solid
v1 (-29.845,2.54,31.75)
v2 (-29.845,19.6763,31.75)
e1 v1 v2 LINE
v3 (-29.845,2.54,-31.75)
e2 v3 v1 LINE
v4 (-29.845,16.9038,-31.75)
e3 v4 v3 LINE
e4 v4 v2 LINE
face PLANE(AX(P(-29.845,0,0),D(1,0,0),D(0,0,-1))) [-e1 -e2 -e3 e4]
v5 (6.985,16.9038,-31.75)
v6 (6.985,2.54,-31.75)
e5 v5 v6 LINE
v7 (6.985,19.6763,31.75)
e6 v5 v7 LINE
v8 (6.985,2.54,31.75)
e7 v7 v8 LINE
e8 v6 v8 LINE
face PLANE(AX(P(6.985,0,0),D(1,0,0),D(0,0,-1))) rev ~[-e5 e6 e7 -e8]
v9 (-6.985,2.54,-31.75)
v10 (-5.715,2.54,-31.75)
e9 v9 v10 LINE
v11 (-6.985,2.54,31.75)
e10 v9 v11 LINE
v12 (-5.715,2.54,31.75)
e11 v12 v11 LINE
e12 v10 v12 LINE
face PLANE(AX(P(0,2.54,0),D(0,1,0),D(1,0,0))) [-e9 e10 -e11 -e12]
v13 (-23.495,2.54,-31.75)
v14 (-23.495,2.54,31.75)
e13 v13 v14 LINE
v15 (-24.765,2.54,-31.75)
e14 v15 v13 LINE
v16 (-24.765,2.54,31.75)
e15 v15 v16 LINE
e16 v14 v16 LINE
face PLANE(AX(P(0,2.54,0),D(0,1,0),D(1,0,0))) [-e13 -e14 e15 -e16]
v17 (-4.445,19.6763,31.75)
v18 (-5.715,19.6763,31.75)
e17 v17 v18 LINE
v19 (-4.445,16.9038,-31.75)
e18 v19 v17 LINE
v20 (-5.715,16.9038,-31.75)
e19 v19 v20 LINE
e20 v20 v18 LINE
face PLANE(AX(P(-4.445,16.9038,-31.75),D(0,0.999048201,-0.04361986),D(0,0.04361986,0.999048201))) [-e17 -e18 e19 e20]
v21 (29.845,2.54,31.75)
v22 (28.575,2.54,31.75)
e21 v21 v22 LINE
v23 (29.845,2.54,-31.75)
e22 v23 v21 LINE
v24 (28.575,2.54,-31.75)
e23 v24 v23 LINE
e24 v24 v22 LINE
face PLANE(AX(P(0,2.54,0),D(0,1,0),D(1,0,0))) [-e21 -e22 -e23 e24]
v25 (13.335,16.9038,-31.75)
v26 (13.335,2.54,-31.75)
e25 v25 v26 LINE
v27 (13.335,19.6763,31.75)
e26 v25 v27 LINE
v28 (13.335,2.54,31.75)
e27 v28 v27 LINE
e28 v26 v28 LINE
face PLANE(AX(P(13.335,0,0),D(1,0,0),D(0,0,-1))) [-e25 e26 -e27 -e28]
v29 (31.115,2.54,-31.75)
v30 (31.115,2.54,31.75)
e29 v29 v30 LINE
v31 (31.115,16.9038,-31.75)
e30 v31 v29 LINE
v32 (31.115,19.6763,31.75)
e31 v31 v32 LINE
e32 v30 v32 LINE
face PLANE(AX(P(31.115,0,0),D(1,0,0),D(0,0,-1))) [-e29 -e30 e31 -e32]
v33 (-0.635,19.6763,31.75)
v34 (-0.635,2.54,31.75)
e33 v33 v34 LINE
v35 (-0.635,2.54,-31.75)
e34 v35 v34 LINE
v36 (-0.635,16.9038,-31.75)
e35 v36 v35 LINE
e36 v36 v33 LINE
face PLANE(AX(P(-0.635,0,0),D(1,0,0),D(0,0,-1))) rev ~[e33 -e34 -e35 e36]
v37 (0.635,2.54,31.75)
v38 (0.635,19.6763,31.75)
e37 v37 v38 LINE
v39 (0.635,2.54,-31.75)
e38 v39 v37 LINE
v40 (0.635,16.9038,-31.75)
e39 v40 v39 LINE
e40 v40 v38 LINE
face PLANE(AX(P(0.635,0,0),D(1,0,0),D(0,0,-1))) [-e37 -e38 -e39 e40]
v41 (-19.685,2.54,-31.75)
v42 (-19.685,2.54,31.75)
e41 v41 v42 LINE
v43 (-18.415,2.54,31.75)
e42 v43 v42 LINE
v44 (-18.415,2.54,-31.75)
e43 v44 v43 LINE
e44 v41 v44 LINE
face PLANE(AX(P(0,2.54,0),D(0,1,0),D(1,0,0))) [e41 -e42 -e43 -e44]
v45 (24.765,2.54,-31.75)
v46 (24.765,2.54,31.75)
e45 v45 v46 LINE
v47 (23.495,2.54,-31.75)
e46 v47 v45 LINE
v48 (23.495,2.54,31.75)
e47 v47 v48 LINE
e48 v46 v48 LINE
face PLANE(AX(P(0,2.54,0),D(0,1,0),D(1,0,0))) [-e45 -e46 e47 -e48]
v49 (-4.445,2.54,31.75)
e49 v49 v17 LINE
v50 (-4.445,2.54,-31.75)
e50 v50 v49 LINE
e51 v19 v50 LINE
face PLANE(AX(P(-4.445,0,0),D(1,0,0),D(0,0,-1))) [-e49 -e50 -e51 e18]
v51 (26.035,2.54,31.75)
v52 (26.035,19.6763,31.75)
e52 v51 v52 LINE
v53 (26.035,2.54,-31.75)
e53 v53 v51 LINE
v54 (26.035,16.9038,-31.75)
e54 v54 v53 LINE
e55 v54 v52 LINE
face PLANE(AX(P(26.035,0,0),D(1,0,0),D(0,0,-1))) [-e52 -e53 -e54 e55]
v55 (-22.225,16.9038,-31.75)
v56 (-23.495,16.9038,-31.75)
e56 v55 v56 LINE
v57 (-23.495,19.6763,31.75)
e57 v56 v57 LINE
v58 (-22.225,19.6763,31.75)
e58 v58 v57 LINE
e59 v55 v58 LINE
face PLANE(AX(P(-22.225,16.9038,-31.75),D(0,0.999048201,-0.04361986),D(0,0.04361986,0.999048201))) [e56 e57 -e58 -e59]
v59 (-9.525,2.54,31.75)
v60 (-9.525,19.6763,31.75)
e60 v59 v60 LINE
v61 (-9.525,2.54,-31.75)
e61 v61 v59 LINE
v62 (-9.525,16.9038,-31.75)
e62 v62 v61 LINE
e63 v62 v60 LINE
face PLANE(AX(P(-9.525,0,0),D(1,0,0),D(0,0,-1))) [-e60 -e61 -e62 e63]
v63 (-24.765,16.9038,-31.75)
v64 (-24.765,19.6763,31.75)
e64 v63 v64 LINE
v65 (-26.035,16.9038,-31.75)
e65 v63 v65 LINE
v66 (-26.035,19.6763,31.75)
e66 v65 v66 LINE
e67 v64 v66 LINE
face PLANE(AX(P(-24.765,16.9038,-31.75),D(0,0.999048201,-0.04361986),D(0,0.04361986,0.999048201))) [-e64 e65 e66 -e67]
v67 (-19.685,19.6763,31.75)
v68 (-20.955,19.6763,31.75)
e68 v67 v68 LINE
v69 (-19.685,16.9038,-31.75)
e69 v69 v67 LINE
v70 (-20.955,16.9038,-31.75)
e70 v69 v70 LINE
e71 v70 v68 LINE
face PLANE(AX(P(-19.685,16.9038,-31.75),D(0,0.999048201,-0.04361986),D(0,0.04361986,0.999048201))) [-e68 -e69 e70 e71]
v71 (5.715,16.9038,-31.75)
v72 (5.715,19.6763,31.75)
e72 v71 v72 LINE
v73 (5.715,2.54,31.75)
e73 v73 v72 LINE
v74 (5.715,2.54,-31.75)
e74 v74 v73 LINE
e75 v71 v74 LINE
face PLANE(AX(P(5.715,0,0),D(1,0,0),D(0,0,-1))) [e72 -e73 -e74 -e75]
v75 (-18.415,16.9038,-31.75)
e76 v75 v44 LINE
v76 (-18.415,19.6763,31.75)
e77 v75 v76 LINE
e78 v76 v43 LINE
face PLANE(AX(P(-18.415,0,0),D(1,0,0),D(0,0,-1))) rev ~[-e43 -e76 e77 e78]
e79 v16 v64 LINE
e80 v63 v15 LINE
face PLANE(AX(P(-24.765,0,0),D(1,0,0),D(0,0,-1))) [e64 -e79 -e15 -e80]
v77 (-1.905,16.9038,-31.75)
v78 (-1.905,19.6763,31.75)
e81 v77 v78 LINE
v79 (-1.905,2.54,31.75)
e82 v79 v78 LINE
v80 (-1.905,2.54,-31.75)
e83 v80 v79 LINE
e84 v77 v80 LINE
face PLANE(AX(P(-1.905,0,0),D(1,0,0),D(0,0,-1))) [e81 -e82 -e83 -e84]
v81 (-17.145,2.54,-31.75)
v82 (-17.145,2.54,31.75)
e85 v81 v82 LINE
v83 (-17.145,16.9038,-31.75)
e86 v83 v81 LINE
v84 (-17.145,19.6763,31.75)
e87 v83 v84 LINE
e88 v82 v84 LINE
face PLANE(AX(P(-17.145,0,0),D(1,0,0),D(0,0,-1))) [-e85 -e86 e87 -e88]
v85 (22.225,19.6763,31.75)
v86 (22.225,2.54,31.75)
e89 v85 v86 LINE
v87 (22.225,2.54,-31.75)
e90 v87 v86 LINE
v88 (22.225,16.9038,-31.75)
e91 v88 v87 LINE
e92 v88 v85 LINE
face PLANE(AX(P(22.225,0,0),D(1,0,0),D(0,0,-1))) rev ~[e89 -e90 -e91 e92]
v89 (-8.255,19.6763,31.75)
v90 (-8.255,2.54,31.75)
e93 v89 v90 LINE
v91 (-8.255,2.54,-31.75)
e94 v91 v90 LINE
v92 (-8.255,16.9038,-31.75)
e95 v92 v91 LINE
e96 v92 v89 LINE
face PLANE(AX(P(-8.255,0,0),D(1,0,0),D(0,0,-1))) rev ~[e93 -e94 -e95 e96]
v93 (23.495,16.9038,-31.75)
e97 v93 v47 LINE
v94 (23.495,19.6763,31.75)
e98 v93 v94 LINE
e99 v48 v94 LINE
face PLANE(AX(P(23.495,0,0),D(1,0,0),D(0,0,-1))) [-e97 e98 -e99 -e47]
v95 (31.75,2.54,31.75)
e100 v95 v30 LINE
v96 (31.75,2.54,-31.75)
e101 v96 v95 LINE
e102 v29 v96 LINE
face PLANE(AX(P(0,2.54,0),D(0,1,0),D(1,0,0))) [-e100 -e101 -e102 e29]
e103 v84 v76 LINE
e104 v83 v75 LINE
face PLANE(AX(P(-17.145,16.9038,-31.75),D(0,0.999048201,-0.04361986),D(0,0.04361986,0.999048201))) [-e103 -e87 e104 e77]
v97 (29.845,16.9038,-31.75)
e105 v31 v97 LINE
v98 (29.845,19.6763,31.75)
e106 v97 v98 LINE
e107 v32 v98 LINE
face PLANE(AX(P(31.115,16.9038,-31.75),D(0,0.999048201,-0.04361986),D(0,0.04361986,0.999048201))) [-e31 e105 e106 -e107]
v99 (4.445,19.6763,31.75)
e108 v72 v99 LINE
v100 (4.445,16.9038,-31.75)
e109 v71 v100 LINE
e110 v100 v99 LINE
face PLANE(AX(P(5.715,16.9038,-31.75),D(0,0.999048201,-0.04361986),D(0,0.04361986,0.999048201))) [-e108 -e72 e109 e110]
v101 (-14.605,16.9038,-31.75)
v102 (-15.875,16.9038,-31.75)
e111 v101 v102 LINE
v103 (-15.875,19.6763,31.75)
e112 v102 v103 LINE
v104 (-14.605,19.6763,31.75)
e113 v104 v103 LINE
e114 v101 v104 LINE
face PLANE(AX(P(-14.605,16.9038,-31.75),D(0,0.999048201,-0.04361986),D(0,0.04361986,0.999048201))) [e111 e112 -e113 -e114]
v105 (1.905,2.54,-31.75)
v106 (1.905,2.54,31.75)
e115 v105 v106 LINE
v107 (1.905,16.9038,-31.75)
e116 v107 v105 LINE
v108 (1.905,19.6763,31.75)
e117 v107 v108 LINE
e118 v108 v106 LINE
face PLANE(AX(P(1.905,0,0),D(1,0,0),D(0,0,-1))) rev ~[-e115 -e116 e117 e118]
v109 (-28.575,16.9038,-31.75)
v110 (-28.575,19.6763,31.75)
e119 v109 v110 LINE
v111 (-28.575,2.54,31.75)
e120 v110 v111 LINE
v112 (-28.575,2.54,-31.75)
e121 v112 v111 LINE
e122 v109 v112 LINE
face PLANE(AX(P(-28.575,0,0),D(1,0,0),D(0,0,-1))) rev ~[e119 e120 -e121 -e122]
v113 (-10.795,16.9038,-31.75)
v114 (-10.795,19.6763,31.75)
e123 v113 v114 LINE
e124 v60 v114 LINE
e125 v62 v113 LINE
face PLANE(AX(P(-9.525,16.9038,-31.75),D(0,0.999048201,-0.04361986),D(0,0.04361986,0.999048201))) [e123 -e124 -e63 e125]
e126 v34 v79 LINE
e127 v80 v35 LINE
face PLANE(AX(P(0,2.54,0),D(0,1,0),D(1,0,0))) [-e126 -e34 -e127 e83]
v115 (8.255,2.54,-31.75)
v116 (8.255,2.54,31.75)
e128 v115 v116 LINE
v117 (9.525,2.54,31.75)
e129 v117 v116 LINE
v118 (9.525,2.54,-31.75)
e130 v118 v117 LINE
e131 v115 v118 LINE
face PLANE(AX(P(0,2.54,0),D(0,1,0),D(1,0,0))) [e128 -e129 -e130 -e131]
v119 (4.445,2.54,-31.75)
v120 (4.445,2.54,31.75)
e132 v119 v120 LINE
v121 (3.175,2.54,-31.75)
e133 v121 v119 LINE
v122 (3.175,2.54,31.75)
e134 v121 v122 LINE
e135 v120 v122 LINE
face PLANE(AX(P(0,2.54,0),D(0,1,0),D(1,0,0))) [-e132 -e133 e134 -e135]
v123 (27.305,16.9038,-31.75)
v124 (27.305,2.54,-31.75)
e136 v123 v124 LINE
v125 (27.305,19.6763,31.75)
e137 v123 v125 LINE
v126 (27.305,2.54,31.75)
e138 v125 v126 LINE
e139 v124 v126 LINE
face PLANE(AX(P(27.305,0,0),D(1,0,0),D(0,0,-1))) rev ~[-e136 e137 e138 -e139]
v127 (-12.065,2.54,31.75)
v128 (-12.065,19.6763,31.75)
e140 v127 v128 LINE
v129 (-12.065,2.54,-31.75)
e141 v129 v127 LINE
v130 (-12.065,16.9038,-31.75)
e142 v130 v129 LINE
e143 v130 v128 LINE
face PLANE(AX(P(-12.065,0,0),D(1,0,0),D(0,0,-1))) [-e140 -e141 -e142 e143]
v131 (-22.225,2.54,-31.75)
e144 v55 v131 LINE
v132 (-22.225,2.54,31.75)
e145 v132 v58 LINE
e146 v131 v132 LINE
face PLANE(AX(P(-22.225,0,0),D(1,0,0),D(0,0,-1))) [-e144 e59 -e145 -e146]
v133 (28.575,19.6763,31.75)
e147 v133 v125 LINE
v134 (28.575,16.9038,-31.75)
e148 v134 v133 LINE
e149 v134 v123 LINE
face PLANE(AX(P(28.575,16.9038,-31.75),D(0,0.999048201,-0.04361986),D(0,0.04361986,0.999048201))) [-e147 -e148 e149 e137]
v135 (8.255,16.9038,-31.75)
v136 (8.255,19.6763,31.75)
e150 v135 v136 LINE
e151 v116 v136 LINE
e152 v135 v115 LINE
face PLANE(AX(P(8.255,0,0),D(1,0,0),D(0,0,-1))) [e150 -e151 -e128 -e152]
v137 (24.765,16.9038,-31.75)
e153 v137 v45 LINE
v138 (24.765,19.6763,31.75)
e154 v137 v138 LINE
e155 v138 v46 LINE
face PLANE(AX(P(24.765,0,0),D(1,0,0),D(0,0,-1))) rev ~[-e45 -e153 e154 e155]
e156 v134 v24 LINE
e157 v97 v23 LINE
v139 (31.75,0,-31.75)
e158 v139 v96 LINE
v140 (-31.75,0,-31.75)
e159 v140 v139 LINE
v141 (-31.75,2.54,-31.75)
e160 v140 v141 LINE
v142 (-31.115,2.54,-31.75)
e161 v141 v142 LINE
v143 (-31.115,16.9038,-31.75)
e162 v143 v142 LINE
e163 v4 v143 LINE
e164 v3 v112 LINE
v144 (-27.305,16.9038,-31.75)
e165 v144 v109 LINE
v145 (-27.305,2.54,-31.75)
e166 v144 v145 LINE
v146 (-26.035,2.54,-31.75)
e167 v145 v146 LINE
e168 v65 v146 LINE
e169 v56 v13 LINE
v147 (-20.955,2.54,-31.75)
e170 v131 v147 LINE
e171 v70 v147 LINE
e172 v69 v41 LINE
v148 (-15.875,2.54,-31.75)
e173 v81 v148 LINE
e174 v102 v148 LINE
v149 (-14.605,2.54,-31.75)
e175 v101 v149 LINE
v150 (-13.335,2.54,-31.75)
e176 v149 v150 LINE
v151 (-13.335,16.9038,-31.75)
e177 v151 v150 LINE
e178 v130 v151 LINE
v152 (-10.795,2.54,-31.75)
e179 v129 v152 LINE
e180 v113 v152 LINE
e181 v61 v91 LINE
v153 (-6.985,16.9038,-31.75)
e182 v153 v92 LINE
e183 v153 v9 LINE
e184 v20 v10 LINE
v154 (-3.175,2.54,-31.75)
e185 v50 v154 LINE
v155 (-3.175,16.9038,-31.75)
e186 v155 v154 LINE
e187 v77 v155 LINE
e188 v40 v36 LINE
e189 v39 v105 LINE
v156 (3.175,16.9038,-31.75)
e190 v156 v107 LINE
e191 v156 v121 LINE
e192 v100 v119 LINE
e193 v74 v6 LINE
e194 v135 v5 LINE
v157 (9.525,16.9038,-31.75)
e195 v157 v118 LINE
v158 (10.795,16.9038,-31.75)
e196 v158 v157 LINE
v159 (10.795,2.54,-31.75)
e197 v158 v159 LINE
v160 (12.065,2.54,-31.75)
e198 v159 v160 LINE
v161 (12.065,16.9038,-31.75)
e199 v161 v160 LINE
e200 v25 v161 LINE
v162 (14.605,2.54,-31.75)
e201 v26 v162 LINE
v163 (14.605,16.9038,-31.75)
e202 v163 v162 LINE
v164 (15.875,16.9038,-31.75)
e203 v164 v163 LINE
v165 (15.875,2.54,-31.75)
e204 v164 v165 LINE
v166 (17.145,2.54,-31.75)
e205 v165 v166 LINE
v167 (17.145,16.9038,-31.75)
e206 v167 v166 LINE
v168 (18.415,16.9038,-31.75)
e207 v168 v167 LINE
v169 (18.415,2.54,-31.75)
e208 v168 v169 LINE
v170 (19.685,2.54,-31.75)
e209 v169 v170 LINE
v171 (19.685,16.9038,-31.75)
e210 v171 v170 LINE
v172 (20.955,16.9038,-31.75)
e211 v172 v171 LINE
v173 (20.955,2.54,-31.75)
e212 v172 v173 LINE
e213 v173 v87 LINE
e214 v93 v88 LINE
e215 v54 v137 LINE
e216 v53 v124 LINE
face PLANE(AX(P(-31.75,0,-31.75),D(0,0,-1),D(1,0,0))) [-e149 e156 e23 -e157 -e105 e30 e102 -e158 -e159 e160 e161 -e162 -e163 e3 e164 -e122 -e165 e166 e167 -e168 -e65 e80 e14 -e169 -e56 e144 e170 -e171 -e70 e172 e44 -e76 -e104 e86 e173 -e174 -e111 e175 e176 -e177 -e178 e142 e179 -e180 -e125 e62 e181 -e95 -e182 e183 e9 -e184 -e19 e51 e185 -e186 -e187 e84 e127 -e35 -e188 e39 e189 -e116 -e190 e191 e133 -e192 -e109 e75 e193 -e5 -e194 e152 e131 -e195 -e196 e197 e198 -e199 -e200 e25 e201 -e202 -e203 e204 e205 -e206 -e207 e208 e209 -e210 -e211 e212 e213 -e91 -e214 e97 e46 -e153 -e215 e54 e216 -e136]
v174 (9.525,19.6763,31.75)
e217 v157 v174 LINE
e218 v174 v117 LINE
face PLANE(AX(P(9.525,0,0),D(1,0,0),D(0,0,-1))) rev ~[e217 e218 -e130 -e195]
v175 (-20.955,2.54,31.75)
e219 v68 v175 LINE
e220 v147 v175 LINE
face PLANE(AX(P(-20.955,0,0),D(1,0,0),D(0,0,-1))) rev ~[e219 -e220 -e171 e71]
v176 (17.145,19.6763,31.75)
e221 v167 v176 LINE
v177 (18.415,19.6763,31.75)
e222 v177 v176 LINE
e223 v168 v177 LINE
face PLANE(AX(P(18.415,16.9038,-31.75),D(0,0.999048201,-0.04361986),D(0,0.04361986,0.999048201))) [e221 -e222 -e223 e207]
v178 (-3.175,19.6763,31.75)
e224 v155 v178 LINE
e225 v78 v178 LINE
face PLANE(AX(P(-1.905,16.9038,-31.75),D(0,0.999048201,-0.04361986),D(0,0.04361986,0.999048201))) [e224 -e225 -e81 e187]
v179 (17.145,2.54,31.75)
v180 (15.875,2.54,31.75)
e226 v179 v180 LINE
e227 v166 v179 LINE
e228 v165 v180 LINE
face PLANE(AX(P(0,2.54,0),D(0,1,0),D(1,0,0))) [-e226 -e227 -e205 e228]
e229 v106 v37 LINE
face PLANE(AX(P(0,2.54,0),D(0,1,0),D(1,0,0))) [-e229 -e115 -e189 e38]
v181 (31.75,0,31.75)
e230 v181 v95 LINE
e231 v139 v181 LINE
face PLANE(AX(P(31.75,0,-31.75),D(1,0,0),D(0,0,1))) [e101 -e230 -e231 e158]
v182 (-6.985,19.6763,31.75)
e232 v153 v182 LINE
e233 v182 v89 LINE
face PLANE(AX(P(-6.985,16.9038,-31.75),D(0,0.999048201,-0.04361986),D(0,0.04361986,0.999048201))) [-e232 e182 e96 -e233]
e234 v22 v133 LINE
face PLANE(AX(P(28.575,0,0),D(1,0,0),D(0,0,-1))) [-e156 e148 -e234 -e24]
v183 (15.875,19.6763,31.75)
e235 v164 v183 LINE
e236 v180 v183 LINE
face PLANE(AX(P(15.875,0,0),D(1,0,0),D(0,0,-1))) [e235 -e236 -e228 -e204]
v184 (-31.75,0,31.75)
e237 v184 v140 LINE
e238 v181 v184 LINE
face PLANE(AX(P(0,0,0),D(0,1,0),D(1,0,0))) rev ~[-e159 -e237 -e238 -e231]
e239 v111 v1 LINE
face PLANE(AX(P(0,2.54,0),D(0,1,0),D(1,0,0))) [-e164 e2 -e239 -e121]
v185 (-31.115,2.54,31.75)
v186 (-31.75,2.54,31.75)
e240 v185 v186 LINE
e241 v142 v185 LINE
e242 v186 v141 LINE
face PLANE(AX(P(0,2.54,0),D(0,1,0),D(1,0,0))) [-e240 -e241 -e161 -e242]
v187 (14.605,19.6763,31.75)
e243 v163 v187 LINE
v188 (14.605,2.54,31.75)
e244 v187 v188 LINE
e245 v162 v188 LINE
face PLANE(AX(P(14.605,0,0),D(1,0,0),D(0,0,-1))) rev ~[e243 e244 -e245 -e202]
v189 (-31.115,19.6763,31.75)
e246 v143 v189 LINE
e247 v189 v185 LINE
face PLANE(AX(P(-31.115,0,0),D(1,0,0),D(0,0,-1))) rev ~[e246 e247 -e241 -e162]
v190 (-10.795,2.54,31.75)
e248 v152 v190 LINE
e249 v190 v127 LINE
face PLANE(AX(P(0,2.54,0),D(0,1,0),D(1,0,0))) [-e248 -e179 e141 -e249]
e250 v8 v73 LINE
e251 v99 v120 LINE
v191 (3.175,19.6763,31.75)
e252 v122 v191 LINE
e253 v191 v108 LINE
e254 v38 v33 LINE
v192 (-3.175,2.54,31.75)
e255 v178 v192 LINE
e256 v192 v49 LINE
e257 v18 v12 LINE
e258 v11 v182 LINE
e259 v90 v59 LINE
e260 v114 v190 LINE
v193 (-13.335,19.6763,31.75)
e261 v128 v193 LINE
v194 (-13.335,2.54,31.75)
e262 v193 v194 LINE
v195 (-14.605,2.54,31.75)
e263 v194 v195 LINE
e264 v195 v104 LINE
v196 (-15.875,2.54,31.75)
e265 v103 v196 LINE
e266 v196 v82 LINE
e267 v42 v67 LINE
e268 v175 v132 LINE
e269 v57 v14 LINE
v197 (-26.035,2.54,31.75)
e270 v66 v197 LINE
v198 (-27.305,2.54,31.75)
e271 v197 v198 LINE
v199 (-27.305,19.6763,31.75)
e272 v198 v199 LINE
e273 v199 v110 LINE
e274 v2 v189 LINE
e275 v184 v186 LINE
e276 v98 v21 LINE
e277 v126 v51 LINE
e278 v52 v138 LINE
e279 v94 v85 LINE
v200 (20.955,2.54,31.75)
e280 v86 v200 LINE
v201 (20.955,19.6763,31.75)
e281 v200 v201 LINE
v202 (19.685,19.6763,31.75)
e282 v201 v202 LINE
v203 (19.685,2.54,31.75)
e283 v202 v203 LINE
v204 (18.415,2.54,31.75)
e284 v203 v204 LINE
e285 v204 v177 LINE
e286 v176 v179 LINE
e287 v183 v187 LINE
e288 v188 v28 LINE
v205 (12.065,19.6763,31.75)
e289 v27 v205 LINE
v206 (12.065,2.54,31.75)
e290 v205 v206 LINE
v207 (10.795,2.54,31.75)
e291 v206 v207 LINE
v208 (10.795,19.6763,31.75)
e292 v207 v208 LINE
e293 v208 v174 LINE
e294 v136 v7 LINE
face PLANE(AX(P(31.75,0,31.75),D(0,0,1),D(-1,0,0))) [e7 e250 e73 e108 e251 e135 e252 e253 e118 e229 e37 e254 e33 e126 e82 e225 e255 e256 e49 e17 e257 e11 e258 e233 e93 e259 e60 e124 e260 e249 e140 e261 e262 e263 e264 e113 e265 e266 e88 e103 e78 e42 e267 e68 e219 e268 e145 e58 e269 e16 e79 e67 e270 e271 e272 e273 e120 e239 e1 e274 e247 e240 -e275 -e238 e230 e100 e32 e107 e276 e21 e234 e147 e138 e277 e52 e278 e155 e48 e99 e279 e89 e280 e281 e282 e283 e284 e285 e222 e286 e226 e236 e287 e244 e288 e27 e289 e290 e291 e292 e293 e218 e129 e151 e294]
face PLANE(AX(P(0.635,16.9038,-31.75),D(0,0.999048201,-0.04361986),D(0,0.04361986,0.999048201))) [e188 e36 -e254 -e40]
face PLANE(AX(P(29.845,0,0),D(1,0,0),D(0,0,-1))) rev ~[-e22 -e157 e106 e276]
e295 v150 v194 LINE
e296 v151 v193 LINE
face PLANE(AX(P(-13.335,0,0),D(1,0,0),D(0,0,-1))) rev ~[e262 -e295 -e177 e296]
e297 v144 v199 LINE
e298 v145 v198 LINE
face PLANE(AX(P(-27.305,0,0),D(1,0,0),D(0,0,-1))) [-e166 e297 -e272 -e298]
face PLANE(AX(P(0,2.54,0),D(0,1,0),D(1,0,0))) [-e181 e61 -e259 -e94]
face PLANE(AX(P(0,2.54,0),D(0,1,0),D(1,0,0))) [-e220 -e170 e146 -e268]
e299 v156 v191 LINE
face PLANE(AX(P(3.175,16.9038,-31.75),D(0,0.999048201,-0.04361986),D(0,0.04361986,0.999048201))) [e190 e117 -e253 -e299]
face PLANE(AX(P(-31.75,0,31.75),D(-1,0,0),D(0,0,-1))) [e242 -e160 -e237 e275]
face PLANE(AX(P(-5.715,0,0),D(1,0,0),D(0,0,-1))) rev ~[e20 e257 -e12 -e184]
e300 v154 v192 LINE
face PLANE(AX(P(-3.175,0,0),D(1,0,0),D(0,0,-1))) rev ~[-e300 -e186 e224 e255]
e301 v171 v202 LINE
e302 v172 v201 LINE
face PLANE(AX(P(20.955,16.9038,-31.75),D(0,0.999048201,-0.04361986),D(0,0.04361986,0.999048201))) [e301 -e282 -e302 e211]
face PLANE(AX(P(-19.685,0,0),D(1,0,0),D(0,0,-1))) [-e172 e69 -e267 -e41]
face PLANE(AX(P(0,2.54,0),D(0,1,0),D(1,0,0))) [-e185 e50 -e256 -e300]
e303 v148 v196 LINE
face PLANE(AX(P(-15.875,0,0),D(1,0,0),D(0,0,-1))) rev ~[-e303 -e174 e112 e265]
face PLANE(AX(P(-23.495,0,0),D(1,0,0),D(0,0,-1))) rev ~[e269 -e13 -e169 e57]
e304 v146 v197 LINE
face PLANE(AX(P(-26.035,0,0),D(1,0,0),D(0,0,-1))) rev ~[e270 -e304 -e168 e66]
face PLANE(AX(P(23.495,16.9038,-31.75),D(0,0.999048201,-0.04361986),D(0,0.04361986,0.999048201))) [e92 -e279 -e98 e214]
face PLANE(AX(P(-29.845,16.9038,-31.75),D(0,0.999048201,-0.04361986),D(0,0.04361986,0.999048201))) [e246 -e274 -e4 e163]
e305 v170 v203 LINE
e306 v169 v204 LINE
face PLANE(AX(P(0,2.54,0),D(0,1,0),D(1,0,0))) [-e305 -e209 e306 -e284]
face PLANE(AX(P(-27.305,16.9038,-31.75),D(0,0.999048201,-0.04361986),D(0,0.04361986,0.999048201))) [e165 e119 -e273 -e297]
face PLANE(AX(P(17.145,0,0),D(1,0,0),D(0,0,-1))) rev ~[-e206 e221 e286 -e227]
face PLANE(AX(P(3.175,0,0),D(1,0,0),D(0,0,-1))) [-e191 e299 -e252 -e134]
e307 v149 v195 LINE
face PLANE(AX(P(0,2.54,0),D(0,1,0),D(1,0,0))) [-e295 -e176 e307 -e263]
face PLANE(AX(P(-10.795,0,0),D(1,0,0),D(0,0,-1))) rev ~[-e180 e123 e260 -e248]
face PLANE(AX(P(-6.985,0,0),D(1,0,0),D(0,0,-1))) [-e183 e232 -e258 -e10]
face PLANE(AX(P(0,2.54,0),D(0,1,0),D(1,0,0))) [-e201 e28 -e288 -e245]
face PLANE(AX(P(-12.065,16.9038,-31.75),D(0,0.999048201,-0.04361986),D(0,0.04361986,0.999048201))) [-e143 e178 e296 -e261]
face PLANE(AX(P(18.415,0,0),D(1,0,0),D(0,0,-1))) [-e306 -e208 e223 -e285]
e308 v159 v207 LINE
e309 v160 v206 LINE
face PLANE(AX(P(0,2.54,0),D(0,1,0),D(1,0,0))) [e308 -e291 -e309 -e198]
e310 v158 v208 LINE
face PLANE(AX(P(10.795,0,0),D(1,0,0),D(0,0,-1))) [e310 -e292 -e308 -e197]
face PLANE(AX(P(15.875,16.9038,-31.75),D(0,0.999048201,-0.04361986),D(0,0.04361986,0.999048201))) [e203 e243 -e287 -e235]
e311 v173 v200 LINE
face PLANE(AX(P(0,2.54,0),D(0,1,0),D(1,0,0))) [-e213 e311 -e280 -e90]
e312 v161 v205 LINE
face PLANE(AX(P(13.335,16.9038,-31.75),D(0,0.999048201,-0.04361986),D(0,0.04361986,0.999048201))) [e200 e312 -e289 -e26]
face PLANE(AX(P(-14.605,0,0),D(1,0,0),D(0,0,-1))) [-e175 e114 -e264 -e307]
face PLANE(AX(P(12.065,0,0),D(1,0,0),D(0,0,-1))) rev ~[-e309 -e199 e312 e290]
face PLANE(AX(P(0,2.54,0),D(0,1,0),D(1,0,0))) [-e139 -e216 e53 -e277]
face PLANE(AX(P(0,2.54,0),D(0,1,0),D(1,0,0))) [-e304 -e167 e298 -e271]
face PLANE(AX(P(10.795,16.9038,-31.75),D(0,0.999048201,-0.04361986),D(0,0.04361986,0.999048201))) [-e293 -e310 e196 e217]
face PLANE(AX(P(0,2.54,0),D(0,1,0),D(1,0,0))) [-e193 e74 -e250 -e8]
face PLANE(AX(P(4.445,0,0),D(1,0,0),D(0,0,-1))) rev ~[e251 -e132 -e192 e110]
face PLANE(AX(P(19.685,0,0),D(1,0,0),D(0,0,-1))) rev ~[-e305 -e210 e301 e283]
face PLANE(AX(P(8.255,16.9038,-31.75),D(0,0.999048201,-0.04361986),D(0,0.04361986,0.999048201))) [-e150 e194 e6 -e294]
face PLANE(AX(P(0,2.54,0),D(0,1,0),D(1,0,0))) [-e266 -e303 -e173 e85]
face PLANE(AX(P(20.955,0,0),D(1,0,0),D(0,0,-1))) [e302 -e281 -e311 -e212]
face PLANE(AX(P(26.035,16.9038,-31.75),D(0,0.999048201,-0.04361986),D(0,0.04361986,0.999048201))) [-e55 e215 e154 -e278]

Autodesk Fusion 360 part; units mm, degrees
sketch "Sketch1" plane through (0, 0, 0) normal (0, 1, 0) x (1, 0, 0)
  line L0 (31.75, -31.75) -> (-31.75, -31.75)
  line L1 (-31.75, -31.75) -> (-31.75, 31.75)
  line L2 (-31.75, 31.75) -> (31.75, 31.75)
  line L3 (31.75, 31.75) -> (31.75, -31.75)
  line L4 (31.75, -31.75) -> (-31.75, 31.75) construction
  line L5 (-31.75, -31.75) -> (31.75, 31.75) construction
  dimension "d1" = 63.5
  dimension "d2" = 63.5
extrude "Extrude1" add sketch "Sketch1" along normal blind 2.54 makes body 1
sketch "Sketch2" plane through (0, 2.54, 0) normal (0, 1, 0) x (-1, 0, 0)
  line L0 (-31.75, -31.75) -> (31.75, -31.75)
  line L1 (31.75, -31.75) -> (31.75, 31.75)
  line L2 (31.75, 31.75) -> (-31.75, 31.75)
  line L3 (-31.75, 31.75) -> (-31.75, -31.75)
  line L4 (0.635, 31.75) -> (-0.635, 31.75)
  line L5 (-0.635, 31.75) -> (-0.635, -31.75)
  line L6 (-0.635, -31.75) -> (0.635, -31.75)
  line L7 (0.635, -31.75) -> (0.635, 31.75)
  line L8 (0.635, 31.75) -> (-0.635, -31.75) construction
  line L9 (-0.635, 31.75) -> (0.635, -31.75) construction
  dimension "d5" = 1.27
  dimension "d6" = 63.5
ref_plane "WorkPlane1" through (0.635, 0, 0) normal (1, 0, 0) x (0, 1, 0)
sketch "Fin Shape" plane through (0.635, 0, 0) normal (1, 0, 0) x (0, 0, -1)
  line L0 (31.75, 2.54) -> (-31.75, 2.54)
  line L1 (-31.75, 2.54) -> (-31.75, 16.9038)
  line L2 (-31.75, 16.9038) -> (31.75, 16.9038)
  line L3 (31.75, 16.9038) -> (31.75, 2.54)
  line L4 (31.75, 16.9038) -> (-31.75, 19.6763)
  line L5 (-31.75, 19.6763) -> (-31.75, 16.9038)
  dimension "d14" = 63.5
  dimension "d15" = 14.3638
  dimension "d18" = 2.7725
extrude "Extrude3" add sketch "Fin Shape" against normal blind 1.27 separate body makes body 2
pattern_linear "R-Pattern1" count 25 spacing 2.54 along (1, 0, 0) both ways of bodies 2 makes body 3 at (-29.845, 13.04, 10.5833) makes body 4 at (-27.305, 13.04, 10.5833) makes body 5 at (-24.765, 13.04, 10.5833) makes body 6 at (-22.225, 13.04, 10.5833) makes body 7 at (-19.685, 13.04, 10.5833) makes body 8 at (-17.145, 13.04, 10.5833) makes body 9 at (-14.605, 13.04, 10.5833) makes body 10 at (-12.065, 13.04, 10.5833) makes body 11 at (-9.525, 13.04, 10.5833) makes body 12 at (-6.985, 13.04, 10.5833) makes body 13 at (-4.445, 13.04, 10.5833) makes body 14 at (-1.905, 13.04, 10.5833) makes body 15 at (3.175, 13.04, 10.5833) makes body 16 at (5.715, 13.04, 10.5833) makes body 17 at (8.255, 13.04, 10.5833) makes body 18 at (10.795, 13.04, 10.5833) makes body 19 at (13.335, 13.04, 10.5833) makes body 20 at (15.875, 13.04, 10.5833) makes body 21 at (18.415, 13.04, 10.5833) makes body 22 at (20.955, 13.04, 10.5833) makes body 23 at (23.495, 13.04, 10.5833) makes body 24 at (26.035, 13.04, 10.5833) makes body 25 at (28.575, 13.04, 10.5833) makes body 26 at (31.115, 13.04, 10.5833)
combine "Combine2" operation add target body 1 tool bodies 2 4 25 3 26 19 13 10 11 12 17 20 21 7 9 8 24 23 22 6 5 15 14 16 18
equation "d11 = 1.27 * 2 mm"
